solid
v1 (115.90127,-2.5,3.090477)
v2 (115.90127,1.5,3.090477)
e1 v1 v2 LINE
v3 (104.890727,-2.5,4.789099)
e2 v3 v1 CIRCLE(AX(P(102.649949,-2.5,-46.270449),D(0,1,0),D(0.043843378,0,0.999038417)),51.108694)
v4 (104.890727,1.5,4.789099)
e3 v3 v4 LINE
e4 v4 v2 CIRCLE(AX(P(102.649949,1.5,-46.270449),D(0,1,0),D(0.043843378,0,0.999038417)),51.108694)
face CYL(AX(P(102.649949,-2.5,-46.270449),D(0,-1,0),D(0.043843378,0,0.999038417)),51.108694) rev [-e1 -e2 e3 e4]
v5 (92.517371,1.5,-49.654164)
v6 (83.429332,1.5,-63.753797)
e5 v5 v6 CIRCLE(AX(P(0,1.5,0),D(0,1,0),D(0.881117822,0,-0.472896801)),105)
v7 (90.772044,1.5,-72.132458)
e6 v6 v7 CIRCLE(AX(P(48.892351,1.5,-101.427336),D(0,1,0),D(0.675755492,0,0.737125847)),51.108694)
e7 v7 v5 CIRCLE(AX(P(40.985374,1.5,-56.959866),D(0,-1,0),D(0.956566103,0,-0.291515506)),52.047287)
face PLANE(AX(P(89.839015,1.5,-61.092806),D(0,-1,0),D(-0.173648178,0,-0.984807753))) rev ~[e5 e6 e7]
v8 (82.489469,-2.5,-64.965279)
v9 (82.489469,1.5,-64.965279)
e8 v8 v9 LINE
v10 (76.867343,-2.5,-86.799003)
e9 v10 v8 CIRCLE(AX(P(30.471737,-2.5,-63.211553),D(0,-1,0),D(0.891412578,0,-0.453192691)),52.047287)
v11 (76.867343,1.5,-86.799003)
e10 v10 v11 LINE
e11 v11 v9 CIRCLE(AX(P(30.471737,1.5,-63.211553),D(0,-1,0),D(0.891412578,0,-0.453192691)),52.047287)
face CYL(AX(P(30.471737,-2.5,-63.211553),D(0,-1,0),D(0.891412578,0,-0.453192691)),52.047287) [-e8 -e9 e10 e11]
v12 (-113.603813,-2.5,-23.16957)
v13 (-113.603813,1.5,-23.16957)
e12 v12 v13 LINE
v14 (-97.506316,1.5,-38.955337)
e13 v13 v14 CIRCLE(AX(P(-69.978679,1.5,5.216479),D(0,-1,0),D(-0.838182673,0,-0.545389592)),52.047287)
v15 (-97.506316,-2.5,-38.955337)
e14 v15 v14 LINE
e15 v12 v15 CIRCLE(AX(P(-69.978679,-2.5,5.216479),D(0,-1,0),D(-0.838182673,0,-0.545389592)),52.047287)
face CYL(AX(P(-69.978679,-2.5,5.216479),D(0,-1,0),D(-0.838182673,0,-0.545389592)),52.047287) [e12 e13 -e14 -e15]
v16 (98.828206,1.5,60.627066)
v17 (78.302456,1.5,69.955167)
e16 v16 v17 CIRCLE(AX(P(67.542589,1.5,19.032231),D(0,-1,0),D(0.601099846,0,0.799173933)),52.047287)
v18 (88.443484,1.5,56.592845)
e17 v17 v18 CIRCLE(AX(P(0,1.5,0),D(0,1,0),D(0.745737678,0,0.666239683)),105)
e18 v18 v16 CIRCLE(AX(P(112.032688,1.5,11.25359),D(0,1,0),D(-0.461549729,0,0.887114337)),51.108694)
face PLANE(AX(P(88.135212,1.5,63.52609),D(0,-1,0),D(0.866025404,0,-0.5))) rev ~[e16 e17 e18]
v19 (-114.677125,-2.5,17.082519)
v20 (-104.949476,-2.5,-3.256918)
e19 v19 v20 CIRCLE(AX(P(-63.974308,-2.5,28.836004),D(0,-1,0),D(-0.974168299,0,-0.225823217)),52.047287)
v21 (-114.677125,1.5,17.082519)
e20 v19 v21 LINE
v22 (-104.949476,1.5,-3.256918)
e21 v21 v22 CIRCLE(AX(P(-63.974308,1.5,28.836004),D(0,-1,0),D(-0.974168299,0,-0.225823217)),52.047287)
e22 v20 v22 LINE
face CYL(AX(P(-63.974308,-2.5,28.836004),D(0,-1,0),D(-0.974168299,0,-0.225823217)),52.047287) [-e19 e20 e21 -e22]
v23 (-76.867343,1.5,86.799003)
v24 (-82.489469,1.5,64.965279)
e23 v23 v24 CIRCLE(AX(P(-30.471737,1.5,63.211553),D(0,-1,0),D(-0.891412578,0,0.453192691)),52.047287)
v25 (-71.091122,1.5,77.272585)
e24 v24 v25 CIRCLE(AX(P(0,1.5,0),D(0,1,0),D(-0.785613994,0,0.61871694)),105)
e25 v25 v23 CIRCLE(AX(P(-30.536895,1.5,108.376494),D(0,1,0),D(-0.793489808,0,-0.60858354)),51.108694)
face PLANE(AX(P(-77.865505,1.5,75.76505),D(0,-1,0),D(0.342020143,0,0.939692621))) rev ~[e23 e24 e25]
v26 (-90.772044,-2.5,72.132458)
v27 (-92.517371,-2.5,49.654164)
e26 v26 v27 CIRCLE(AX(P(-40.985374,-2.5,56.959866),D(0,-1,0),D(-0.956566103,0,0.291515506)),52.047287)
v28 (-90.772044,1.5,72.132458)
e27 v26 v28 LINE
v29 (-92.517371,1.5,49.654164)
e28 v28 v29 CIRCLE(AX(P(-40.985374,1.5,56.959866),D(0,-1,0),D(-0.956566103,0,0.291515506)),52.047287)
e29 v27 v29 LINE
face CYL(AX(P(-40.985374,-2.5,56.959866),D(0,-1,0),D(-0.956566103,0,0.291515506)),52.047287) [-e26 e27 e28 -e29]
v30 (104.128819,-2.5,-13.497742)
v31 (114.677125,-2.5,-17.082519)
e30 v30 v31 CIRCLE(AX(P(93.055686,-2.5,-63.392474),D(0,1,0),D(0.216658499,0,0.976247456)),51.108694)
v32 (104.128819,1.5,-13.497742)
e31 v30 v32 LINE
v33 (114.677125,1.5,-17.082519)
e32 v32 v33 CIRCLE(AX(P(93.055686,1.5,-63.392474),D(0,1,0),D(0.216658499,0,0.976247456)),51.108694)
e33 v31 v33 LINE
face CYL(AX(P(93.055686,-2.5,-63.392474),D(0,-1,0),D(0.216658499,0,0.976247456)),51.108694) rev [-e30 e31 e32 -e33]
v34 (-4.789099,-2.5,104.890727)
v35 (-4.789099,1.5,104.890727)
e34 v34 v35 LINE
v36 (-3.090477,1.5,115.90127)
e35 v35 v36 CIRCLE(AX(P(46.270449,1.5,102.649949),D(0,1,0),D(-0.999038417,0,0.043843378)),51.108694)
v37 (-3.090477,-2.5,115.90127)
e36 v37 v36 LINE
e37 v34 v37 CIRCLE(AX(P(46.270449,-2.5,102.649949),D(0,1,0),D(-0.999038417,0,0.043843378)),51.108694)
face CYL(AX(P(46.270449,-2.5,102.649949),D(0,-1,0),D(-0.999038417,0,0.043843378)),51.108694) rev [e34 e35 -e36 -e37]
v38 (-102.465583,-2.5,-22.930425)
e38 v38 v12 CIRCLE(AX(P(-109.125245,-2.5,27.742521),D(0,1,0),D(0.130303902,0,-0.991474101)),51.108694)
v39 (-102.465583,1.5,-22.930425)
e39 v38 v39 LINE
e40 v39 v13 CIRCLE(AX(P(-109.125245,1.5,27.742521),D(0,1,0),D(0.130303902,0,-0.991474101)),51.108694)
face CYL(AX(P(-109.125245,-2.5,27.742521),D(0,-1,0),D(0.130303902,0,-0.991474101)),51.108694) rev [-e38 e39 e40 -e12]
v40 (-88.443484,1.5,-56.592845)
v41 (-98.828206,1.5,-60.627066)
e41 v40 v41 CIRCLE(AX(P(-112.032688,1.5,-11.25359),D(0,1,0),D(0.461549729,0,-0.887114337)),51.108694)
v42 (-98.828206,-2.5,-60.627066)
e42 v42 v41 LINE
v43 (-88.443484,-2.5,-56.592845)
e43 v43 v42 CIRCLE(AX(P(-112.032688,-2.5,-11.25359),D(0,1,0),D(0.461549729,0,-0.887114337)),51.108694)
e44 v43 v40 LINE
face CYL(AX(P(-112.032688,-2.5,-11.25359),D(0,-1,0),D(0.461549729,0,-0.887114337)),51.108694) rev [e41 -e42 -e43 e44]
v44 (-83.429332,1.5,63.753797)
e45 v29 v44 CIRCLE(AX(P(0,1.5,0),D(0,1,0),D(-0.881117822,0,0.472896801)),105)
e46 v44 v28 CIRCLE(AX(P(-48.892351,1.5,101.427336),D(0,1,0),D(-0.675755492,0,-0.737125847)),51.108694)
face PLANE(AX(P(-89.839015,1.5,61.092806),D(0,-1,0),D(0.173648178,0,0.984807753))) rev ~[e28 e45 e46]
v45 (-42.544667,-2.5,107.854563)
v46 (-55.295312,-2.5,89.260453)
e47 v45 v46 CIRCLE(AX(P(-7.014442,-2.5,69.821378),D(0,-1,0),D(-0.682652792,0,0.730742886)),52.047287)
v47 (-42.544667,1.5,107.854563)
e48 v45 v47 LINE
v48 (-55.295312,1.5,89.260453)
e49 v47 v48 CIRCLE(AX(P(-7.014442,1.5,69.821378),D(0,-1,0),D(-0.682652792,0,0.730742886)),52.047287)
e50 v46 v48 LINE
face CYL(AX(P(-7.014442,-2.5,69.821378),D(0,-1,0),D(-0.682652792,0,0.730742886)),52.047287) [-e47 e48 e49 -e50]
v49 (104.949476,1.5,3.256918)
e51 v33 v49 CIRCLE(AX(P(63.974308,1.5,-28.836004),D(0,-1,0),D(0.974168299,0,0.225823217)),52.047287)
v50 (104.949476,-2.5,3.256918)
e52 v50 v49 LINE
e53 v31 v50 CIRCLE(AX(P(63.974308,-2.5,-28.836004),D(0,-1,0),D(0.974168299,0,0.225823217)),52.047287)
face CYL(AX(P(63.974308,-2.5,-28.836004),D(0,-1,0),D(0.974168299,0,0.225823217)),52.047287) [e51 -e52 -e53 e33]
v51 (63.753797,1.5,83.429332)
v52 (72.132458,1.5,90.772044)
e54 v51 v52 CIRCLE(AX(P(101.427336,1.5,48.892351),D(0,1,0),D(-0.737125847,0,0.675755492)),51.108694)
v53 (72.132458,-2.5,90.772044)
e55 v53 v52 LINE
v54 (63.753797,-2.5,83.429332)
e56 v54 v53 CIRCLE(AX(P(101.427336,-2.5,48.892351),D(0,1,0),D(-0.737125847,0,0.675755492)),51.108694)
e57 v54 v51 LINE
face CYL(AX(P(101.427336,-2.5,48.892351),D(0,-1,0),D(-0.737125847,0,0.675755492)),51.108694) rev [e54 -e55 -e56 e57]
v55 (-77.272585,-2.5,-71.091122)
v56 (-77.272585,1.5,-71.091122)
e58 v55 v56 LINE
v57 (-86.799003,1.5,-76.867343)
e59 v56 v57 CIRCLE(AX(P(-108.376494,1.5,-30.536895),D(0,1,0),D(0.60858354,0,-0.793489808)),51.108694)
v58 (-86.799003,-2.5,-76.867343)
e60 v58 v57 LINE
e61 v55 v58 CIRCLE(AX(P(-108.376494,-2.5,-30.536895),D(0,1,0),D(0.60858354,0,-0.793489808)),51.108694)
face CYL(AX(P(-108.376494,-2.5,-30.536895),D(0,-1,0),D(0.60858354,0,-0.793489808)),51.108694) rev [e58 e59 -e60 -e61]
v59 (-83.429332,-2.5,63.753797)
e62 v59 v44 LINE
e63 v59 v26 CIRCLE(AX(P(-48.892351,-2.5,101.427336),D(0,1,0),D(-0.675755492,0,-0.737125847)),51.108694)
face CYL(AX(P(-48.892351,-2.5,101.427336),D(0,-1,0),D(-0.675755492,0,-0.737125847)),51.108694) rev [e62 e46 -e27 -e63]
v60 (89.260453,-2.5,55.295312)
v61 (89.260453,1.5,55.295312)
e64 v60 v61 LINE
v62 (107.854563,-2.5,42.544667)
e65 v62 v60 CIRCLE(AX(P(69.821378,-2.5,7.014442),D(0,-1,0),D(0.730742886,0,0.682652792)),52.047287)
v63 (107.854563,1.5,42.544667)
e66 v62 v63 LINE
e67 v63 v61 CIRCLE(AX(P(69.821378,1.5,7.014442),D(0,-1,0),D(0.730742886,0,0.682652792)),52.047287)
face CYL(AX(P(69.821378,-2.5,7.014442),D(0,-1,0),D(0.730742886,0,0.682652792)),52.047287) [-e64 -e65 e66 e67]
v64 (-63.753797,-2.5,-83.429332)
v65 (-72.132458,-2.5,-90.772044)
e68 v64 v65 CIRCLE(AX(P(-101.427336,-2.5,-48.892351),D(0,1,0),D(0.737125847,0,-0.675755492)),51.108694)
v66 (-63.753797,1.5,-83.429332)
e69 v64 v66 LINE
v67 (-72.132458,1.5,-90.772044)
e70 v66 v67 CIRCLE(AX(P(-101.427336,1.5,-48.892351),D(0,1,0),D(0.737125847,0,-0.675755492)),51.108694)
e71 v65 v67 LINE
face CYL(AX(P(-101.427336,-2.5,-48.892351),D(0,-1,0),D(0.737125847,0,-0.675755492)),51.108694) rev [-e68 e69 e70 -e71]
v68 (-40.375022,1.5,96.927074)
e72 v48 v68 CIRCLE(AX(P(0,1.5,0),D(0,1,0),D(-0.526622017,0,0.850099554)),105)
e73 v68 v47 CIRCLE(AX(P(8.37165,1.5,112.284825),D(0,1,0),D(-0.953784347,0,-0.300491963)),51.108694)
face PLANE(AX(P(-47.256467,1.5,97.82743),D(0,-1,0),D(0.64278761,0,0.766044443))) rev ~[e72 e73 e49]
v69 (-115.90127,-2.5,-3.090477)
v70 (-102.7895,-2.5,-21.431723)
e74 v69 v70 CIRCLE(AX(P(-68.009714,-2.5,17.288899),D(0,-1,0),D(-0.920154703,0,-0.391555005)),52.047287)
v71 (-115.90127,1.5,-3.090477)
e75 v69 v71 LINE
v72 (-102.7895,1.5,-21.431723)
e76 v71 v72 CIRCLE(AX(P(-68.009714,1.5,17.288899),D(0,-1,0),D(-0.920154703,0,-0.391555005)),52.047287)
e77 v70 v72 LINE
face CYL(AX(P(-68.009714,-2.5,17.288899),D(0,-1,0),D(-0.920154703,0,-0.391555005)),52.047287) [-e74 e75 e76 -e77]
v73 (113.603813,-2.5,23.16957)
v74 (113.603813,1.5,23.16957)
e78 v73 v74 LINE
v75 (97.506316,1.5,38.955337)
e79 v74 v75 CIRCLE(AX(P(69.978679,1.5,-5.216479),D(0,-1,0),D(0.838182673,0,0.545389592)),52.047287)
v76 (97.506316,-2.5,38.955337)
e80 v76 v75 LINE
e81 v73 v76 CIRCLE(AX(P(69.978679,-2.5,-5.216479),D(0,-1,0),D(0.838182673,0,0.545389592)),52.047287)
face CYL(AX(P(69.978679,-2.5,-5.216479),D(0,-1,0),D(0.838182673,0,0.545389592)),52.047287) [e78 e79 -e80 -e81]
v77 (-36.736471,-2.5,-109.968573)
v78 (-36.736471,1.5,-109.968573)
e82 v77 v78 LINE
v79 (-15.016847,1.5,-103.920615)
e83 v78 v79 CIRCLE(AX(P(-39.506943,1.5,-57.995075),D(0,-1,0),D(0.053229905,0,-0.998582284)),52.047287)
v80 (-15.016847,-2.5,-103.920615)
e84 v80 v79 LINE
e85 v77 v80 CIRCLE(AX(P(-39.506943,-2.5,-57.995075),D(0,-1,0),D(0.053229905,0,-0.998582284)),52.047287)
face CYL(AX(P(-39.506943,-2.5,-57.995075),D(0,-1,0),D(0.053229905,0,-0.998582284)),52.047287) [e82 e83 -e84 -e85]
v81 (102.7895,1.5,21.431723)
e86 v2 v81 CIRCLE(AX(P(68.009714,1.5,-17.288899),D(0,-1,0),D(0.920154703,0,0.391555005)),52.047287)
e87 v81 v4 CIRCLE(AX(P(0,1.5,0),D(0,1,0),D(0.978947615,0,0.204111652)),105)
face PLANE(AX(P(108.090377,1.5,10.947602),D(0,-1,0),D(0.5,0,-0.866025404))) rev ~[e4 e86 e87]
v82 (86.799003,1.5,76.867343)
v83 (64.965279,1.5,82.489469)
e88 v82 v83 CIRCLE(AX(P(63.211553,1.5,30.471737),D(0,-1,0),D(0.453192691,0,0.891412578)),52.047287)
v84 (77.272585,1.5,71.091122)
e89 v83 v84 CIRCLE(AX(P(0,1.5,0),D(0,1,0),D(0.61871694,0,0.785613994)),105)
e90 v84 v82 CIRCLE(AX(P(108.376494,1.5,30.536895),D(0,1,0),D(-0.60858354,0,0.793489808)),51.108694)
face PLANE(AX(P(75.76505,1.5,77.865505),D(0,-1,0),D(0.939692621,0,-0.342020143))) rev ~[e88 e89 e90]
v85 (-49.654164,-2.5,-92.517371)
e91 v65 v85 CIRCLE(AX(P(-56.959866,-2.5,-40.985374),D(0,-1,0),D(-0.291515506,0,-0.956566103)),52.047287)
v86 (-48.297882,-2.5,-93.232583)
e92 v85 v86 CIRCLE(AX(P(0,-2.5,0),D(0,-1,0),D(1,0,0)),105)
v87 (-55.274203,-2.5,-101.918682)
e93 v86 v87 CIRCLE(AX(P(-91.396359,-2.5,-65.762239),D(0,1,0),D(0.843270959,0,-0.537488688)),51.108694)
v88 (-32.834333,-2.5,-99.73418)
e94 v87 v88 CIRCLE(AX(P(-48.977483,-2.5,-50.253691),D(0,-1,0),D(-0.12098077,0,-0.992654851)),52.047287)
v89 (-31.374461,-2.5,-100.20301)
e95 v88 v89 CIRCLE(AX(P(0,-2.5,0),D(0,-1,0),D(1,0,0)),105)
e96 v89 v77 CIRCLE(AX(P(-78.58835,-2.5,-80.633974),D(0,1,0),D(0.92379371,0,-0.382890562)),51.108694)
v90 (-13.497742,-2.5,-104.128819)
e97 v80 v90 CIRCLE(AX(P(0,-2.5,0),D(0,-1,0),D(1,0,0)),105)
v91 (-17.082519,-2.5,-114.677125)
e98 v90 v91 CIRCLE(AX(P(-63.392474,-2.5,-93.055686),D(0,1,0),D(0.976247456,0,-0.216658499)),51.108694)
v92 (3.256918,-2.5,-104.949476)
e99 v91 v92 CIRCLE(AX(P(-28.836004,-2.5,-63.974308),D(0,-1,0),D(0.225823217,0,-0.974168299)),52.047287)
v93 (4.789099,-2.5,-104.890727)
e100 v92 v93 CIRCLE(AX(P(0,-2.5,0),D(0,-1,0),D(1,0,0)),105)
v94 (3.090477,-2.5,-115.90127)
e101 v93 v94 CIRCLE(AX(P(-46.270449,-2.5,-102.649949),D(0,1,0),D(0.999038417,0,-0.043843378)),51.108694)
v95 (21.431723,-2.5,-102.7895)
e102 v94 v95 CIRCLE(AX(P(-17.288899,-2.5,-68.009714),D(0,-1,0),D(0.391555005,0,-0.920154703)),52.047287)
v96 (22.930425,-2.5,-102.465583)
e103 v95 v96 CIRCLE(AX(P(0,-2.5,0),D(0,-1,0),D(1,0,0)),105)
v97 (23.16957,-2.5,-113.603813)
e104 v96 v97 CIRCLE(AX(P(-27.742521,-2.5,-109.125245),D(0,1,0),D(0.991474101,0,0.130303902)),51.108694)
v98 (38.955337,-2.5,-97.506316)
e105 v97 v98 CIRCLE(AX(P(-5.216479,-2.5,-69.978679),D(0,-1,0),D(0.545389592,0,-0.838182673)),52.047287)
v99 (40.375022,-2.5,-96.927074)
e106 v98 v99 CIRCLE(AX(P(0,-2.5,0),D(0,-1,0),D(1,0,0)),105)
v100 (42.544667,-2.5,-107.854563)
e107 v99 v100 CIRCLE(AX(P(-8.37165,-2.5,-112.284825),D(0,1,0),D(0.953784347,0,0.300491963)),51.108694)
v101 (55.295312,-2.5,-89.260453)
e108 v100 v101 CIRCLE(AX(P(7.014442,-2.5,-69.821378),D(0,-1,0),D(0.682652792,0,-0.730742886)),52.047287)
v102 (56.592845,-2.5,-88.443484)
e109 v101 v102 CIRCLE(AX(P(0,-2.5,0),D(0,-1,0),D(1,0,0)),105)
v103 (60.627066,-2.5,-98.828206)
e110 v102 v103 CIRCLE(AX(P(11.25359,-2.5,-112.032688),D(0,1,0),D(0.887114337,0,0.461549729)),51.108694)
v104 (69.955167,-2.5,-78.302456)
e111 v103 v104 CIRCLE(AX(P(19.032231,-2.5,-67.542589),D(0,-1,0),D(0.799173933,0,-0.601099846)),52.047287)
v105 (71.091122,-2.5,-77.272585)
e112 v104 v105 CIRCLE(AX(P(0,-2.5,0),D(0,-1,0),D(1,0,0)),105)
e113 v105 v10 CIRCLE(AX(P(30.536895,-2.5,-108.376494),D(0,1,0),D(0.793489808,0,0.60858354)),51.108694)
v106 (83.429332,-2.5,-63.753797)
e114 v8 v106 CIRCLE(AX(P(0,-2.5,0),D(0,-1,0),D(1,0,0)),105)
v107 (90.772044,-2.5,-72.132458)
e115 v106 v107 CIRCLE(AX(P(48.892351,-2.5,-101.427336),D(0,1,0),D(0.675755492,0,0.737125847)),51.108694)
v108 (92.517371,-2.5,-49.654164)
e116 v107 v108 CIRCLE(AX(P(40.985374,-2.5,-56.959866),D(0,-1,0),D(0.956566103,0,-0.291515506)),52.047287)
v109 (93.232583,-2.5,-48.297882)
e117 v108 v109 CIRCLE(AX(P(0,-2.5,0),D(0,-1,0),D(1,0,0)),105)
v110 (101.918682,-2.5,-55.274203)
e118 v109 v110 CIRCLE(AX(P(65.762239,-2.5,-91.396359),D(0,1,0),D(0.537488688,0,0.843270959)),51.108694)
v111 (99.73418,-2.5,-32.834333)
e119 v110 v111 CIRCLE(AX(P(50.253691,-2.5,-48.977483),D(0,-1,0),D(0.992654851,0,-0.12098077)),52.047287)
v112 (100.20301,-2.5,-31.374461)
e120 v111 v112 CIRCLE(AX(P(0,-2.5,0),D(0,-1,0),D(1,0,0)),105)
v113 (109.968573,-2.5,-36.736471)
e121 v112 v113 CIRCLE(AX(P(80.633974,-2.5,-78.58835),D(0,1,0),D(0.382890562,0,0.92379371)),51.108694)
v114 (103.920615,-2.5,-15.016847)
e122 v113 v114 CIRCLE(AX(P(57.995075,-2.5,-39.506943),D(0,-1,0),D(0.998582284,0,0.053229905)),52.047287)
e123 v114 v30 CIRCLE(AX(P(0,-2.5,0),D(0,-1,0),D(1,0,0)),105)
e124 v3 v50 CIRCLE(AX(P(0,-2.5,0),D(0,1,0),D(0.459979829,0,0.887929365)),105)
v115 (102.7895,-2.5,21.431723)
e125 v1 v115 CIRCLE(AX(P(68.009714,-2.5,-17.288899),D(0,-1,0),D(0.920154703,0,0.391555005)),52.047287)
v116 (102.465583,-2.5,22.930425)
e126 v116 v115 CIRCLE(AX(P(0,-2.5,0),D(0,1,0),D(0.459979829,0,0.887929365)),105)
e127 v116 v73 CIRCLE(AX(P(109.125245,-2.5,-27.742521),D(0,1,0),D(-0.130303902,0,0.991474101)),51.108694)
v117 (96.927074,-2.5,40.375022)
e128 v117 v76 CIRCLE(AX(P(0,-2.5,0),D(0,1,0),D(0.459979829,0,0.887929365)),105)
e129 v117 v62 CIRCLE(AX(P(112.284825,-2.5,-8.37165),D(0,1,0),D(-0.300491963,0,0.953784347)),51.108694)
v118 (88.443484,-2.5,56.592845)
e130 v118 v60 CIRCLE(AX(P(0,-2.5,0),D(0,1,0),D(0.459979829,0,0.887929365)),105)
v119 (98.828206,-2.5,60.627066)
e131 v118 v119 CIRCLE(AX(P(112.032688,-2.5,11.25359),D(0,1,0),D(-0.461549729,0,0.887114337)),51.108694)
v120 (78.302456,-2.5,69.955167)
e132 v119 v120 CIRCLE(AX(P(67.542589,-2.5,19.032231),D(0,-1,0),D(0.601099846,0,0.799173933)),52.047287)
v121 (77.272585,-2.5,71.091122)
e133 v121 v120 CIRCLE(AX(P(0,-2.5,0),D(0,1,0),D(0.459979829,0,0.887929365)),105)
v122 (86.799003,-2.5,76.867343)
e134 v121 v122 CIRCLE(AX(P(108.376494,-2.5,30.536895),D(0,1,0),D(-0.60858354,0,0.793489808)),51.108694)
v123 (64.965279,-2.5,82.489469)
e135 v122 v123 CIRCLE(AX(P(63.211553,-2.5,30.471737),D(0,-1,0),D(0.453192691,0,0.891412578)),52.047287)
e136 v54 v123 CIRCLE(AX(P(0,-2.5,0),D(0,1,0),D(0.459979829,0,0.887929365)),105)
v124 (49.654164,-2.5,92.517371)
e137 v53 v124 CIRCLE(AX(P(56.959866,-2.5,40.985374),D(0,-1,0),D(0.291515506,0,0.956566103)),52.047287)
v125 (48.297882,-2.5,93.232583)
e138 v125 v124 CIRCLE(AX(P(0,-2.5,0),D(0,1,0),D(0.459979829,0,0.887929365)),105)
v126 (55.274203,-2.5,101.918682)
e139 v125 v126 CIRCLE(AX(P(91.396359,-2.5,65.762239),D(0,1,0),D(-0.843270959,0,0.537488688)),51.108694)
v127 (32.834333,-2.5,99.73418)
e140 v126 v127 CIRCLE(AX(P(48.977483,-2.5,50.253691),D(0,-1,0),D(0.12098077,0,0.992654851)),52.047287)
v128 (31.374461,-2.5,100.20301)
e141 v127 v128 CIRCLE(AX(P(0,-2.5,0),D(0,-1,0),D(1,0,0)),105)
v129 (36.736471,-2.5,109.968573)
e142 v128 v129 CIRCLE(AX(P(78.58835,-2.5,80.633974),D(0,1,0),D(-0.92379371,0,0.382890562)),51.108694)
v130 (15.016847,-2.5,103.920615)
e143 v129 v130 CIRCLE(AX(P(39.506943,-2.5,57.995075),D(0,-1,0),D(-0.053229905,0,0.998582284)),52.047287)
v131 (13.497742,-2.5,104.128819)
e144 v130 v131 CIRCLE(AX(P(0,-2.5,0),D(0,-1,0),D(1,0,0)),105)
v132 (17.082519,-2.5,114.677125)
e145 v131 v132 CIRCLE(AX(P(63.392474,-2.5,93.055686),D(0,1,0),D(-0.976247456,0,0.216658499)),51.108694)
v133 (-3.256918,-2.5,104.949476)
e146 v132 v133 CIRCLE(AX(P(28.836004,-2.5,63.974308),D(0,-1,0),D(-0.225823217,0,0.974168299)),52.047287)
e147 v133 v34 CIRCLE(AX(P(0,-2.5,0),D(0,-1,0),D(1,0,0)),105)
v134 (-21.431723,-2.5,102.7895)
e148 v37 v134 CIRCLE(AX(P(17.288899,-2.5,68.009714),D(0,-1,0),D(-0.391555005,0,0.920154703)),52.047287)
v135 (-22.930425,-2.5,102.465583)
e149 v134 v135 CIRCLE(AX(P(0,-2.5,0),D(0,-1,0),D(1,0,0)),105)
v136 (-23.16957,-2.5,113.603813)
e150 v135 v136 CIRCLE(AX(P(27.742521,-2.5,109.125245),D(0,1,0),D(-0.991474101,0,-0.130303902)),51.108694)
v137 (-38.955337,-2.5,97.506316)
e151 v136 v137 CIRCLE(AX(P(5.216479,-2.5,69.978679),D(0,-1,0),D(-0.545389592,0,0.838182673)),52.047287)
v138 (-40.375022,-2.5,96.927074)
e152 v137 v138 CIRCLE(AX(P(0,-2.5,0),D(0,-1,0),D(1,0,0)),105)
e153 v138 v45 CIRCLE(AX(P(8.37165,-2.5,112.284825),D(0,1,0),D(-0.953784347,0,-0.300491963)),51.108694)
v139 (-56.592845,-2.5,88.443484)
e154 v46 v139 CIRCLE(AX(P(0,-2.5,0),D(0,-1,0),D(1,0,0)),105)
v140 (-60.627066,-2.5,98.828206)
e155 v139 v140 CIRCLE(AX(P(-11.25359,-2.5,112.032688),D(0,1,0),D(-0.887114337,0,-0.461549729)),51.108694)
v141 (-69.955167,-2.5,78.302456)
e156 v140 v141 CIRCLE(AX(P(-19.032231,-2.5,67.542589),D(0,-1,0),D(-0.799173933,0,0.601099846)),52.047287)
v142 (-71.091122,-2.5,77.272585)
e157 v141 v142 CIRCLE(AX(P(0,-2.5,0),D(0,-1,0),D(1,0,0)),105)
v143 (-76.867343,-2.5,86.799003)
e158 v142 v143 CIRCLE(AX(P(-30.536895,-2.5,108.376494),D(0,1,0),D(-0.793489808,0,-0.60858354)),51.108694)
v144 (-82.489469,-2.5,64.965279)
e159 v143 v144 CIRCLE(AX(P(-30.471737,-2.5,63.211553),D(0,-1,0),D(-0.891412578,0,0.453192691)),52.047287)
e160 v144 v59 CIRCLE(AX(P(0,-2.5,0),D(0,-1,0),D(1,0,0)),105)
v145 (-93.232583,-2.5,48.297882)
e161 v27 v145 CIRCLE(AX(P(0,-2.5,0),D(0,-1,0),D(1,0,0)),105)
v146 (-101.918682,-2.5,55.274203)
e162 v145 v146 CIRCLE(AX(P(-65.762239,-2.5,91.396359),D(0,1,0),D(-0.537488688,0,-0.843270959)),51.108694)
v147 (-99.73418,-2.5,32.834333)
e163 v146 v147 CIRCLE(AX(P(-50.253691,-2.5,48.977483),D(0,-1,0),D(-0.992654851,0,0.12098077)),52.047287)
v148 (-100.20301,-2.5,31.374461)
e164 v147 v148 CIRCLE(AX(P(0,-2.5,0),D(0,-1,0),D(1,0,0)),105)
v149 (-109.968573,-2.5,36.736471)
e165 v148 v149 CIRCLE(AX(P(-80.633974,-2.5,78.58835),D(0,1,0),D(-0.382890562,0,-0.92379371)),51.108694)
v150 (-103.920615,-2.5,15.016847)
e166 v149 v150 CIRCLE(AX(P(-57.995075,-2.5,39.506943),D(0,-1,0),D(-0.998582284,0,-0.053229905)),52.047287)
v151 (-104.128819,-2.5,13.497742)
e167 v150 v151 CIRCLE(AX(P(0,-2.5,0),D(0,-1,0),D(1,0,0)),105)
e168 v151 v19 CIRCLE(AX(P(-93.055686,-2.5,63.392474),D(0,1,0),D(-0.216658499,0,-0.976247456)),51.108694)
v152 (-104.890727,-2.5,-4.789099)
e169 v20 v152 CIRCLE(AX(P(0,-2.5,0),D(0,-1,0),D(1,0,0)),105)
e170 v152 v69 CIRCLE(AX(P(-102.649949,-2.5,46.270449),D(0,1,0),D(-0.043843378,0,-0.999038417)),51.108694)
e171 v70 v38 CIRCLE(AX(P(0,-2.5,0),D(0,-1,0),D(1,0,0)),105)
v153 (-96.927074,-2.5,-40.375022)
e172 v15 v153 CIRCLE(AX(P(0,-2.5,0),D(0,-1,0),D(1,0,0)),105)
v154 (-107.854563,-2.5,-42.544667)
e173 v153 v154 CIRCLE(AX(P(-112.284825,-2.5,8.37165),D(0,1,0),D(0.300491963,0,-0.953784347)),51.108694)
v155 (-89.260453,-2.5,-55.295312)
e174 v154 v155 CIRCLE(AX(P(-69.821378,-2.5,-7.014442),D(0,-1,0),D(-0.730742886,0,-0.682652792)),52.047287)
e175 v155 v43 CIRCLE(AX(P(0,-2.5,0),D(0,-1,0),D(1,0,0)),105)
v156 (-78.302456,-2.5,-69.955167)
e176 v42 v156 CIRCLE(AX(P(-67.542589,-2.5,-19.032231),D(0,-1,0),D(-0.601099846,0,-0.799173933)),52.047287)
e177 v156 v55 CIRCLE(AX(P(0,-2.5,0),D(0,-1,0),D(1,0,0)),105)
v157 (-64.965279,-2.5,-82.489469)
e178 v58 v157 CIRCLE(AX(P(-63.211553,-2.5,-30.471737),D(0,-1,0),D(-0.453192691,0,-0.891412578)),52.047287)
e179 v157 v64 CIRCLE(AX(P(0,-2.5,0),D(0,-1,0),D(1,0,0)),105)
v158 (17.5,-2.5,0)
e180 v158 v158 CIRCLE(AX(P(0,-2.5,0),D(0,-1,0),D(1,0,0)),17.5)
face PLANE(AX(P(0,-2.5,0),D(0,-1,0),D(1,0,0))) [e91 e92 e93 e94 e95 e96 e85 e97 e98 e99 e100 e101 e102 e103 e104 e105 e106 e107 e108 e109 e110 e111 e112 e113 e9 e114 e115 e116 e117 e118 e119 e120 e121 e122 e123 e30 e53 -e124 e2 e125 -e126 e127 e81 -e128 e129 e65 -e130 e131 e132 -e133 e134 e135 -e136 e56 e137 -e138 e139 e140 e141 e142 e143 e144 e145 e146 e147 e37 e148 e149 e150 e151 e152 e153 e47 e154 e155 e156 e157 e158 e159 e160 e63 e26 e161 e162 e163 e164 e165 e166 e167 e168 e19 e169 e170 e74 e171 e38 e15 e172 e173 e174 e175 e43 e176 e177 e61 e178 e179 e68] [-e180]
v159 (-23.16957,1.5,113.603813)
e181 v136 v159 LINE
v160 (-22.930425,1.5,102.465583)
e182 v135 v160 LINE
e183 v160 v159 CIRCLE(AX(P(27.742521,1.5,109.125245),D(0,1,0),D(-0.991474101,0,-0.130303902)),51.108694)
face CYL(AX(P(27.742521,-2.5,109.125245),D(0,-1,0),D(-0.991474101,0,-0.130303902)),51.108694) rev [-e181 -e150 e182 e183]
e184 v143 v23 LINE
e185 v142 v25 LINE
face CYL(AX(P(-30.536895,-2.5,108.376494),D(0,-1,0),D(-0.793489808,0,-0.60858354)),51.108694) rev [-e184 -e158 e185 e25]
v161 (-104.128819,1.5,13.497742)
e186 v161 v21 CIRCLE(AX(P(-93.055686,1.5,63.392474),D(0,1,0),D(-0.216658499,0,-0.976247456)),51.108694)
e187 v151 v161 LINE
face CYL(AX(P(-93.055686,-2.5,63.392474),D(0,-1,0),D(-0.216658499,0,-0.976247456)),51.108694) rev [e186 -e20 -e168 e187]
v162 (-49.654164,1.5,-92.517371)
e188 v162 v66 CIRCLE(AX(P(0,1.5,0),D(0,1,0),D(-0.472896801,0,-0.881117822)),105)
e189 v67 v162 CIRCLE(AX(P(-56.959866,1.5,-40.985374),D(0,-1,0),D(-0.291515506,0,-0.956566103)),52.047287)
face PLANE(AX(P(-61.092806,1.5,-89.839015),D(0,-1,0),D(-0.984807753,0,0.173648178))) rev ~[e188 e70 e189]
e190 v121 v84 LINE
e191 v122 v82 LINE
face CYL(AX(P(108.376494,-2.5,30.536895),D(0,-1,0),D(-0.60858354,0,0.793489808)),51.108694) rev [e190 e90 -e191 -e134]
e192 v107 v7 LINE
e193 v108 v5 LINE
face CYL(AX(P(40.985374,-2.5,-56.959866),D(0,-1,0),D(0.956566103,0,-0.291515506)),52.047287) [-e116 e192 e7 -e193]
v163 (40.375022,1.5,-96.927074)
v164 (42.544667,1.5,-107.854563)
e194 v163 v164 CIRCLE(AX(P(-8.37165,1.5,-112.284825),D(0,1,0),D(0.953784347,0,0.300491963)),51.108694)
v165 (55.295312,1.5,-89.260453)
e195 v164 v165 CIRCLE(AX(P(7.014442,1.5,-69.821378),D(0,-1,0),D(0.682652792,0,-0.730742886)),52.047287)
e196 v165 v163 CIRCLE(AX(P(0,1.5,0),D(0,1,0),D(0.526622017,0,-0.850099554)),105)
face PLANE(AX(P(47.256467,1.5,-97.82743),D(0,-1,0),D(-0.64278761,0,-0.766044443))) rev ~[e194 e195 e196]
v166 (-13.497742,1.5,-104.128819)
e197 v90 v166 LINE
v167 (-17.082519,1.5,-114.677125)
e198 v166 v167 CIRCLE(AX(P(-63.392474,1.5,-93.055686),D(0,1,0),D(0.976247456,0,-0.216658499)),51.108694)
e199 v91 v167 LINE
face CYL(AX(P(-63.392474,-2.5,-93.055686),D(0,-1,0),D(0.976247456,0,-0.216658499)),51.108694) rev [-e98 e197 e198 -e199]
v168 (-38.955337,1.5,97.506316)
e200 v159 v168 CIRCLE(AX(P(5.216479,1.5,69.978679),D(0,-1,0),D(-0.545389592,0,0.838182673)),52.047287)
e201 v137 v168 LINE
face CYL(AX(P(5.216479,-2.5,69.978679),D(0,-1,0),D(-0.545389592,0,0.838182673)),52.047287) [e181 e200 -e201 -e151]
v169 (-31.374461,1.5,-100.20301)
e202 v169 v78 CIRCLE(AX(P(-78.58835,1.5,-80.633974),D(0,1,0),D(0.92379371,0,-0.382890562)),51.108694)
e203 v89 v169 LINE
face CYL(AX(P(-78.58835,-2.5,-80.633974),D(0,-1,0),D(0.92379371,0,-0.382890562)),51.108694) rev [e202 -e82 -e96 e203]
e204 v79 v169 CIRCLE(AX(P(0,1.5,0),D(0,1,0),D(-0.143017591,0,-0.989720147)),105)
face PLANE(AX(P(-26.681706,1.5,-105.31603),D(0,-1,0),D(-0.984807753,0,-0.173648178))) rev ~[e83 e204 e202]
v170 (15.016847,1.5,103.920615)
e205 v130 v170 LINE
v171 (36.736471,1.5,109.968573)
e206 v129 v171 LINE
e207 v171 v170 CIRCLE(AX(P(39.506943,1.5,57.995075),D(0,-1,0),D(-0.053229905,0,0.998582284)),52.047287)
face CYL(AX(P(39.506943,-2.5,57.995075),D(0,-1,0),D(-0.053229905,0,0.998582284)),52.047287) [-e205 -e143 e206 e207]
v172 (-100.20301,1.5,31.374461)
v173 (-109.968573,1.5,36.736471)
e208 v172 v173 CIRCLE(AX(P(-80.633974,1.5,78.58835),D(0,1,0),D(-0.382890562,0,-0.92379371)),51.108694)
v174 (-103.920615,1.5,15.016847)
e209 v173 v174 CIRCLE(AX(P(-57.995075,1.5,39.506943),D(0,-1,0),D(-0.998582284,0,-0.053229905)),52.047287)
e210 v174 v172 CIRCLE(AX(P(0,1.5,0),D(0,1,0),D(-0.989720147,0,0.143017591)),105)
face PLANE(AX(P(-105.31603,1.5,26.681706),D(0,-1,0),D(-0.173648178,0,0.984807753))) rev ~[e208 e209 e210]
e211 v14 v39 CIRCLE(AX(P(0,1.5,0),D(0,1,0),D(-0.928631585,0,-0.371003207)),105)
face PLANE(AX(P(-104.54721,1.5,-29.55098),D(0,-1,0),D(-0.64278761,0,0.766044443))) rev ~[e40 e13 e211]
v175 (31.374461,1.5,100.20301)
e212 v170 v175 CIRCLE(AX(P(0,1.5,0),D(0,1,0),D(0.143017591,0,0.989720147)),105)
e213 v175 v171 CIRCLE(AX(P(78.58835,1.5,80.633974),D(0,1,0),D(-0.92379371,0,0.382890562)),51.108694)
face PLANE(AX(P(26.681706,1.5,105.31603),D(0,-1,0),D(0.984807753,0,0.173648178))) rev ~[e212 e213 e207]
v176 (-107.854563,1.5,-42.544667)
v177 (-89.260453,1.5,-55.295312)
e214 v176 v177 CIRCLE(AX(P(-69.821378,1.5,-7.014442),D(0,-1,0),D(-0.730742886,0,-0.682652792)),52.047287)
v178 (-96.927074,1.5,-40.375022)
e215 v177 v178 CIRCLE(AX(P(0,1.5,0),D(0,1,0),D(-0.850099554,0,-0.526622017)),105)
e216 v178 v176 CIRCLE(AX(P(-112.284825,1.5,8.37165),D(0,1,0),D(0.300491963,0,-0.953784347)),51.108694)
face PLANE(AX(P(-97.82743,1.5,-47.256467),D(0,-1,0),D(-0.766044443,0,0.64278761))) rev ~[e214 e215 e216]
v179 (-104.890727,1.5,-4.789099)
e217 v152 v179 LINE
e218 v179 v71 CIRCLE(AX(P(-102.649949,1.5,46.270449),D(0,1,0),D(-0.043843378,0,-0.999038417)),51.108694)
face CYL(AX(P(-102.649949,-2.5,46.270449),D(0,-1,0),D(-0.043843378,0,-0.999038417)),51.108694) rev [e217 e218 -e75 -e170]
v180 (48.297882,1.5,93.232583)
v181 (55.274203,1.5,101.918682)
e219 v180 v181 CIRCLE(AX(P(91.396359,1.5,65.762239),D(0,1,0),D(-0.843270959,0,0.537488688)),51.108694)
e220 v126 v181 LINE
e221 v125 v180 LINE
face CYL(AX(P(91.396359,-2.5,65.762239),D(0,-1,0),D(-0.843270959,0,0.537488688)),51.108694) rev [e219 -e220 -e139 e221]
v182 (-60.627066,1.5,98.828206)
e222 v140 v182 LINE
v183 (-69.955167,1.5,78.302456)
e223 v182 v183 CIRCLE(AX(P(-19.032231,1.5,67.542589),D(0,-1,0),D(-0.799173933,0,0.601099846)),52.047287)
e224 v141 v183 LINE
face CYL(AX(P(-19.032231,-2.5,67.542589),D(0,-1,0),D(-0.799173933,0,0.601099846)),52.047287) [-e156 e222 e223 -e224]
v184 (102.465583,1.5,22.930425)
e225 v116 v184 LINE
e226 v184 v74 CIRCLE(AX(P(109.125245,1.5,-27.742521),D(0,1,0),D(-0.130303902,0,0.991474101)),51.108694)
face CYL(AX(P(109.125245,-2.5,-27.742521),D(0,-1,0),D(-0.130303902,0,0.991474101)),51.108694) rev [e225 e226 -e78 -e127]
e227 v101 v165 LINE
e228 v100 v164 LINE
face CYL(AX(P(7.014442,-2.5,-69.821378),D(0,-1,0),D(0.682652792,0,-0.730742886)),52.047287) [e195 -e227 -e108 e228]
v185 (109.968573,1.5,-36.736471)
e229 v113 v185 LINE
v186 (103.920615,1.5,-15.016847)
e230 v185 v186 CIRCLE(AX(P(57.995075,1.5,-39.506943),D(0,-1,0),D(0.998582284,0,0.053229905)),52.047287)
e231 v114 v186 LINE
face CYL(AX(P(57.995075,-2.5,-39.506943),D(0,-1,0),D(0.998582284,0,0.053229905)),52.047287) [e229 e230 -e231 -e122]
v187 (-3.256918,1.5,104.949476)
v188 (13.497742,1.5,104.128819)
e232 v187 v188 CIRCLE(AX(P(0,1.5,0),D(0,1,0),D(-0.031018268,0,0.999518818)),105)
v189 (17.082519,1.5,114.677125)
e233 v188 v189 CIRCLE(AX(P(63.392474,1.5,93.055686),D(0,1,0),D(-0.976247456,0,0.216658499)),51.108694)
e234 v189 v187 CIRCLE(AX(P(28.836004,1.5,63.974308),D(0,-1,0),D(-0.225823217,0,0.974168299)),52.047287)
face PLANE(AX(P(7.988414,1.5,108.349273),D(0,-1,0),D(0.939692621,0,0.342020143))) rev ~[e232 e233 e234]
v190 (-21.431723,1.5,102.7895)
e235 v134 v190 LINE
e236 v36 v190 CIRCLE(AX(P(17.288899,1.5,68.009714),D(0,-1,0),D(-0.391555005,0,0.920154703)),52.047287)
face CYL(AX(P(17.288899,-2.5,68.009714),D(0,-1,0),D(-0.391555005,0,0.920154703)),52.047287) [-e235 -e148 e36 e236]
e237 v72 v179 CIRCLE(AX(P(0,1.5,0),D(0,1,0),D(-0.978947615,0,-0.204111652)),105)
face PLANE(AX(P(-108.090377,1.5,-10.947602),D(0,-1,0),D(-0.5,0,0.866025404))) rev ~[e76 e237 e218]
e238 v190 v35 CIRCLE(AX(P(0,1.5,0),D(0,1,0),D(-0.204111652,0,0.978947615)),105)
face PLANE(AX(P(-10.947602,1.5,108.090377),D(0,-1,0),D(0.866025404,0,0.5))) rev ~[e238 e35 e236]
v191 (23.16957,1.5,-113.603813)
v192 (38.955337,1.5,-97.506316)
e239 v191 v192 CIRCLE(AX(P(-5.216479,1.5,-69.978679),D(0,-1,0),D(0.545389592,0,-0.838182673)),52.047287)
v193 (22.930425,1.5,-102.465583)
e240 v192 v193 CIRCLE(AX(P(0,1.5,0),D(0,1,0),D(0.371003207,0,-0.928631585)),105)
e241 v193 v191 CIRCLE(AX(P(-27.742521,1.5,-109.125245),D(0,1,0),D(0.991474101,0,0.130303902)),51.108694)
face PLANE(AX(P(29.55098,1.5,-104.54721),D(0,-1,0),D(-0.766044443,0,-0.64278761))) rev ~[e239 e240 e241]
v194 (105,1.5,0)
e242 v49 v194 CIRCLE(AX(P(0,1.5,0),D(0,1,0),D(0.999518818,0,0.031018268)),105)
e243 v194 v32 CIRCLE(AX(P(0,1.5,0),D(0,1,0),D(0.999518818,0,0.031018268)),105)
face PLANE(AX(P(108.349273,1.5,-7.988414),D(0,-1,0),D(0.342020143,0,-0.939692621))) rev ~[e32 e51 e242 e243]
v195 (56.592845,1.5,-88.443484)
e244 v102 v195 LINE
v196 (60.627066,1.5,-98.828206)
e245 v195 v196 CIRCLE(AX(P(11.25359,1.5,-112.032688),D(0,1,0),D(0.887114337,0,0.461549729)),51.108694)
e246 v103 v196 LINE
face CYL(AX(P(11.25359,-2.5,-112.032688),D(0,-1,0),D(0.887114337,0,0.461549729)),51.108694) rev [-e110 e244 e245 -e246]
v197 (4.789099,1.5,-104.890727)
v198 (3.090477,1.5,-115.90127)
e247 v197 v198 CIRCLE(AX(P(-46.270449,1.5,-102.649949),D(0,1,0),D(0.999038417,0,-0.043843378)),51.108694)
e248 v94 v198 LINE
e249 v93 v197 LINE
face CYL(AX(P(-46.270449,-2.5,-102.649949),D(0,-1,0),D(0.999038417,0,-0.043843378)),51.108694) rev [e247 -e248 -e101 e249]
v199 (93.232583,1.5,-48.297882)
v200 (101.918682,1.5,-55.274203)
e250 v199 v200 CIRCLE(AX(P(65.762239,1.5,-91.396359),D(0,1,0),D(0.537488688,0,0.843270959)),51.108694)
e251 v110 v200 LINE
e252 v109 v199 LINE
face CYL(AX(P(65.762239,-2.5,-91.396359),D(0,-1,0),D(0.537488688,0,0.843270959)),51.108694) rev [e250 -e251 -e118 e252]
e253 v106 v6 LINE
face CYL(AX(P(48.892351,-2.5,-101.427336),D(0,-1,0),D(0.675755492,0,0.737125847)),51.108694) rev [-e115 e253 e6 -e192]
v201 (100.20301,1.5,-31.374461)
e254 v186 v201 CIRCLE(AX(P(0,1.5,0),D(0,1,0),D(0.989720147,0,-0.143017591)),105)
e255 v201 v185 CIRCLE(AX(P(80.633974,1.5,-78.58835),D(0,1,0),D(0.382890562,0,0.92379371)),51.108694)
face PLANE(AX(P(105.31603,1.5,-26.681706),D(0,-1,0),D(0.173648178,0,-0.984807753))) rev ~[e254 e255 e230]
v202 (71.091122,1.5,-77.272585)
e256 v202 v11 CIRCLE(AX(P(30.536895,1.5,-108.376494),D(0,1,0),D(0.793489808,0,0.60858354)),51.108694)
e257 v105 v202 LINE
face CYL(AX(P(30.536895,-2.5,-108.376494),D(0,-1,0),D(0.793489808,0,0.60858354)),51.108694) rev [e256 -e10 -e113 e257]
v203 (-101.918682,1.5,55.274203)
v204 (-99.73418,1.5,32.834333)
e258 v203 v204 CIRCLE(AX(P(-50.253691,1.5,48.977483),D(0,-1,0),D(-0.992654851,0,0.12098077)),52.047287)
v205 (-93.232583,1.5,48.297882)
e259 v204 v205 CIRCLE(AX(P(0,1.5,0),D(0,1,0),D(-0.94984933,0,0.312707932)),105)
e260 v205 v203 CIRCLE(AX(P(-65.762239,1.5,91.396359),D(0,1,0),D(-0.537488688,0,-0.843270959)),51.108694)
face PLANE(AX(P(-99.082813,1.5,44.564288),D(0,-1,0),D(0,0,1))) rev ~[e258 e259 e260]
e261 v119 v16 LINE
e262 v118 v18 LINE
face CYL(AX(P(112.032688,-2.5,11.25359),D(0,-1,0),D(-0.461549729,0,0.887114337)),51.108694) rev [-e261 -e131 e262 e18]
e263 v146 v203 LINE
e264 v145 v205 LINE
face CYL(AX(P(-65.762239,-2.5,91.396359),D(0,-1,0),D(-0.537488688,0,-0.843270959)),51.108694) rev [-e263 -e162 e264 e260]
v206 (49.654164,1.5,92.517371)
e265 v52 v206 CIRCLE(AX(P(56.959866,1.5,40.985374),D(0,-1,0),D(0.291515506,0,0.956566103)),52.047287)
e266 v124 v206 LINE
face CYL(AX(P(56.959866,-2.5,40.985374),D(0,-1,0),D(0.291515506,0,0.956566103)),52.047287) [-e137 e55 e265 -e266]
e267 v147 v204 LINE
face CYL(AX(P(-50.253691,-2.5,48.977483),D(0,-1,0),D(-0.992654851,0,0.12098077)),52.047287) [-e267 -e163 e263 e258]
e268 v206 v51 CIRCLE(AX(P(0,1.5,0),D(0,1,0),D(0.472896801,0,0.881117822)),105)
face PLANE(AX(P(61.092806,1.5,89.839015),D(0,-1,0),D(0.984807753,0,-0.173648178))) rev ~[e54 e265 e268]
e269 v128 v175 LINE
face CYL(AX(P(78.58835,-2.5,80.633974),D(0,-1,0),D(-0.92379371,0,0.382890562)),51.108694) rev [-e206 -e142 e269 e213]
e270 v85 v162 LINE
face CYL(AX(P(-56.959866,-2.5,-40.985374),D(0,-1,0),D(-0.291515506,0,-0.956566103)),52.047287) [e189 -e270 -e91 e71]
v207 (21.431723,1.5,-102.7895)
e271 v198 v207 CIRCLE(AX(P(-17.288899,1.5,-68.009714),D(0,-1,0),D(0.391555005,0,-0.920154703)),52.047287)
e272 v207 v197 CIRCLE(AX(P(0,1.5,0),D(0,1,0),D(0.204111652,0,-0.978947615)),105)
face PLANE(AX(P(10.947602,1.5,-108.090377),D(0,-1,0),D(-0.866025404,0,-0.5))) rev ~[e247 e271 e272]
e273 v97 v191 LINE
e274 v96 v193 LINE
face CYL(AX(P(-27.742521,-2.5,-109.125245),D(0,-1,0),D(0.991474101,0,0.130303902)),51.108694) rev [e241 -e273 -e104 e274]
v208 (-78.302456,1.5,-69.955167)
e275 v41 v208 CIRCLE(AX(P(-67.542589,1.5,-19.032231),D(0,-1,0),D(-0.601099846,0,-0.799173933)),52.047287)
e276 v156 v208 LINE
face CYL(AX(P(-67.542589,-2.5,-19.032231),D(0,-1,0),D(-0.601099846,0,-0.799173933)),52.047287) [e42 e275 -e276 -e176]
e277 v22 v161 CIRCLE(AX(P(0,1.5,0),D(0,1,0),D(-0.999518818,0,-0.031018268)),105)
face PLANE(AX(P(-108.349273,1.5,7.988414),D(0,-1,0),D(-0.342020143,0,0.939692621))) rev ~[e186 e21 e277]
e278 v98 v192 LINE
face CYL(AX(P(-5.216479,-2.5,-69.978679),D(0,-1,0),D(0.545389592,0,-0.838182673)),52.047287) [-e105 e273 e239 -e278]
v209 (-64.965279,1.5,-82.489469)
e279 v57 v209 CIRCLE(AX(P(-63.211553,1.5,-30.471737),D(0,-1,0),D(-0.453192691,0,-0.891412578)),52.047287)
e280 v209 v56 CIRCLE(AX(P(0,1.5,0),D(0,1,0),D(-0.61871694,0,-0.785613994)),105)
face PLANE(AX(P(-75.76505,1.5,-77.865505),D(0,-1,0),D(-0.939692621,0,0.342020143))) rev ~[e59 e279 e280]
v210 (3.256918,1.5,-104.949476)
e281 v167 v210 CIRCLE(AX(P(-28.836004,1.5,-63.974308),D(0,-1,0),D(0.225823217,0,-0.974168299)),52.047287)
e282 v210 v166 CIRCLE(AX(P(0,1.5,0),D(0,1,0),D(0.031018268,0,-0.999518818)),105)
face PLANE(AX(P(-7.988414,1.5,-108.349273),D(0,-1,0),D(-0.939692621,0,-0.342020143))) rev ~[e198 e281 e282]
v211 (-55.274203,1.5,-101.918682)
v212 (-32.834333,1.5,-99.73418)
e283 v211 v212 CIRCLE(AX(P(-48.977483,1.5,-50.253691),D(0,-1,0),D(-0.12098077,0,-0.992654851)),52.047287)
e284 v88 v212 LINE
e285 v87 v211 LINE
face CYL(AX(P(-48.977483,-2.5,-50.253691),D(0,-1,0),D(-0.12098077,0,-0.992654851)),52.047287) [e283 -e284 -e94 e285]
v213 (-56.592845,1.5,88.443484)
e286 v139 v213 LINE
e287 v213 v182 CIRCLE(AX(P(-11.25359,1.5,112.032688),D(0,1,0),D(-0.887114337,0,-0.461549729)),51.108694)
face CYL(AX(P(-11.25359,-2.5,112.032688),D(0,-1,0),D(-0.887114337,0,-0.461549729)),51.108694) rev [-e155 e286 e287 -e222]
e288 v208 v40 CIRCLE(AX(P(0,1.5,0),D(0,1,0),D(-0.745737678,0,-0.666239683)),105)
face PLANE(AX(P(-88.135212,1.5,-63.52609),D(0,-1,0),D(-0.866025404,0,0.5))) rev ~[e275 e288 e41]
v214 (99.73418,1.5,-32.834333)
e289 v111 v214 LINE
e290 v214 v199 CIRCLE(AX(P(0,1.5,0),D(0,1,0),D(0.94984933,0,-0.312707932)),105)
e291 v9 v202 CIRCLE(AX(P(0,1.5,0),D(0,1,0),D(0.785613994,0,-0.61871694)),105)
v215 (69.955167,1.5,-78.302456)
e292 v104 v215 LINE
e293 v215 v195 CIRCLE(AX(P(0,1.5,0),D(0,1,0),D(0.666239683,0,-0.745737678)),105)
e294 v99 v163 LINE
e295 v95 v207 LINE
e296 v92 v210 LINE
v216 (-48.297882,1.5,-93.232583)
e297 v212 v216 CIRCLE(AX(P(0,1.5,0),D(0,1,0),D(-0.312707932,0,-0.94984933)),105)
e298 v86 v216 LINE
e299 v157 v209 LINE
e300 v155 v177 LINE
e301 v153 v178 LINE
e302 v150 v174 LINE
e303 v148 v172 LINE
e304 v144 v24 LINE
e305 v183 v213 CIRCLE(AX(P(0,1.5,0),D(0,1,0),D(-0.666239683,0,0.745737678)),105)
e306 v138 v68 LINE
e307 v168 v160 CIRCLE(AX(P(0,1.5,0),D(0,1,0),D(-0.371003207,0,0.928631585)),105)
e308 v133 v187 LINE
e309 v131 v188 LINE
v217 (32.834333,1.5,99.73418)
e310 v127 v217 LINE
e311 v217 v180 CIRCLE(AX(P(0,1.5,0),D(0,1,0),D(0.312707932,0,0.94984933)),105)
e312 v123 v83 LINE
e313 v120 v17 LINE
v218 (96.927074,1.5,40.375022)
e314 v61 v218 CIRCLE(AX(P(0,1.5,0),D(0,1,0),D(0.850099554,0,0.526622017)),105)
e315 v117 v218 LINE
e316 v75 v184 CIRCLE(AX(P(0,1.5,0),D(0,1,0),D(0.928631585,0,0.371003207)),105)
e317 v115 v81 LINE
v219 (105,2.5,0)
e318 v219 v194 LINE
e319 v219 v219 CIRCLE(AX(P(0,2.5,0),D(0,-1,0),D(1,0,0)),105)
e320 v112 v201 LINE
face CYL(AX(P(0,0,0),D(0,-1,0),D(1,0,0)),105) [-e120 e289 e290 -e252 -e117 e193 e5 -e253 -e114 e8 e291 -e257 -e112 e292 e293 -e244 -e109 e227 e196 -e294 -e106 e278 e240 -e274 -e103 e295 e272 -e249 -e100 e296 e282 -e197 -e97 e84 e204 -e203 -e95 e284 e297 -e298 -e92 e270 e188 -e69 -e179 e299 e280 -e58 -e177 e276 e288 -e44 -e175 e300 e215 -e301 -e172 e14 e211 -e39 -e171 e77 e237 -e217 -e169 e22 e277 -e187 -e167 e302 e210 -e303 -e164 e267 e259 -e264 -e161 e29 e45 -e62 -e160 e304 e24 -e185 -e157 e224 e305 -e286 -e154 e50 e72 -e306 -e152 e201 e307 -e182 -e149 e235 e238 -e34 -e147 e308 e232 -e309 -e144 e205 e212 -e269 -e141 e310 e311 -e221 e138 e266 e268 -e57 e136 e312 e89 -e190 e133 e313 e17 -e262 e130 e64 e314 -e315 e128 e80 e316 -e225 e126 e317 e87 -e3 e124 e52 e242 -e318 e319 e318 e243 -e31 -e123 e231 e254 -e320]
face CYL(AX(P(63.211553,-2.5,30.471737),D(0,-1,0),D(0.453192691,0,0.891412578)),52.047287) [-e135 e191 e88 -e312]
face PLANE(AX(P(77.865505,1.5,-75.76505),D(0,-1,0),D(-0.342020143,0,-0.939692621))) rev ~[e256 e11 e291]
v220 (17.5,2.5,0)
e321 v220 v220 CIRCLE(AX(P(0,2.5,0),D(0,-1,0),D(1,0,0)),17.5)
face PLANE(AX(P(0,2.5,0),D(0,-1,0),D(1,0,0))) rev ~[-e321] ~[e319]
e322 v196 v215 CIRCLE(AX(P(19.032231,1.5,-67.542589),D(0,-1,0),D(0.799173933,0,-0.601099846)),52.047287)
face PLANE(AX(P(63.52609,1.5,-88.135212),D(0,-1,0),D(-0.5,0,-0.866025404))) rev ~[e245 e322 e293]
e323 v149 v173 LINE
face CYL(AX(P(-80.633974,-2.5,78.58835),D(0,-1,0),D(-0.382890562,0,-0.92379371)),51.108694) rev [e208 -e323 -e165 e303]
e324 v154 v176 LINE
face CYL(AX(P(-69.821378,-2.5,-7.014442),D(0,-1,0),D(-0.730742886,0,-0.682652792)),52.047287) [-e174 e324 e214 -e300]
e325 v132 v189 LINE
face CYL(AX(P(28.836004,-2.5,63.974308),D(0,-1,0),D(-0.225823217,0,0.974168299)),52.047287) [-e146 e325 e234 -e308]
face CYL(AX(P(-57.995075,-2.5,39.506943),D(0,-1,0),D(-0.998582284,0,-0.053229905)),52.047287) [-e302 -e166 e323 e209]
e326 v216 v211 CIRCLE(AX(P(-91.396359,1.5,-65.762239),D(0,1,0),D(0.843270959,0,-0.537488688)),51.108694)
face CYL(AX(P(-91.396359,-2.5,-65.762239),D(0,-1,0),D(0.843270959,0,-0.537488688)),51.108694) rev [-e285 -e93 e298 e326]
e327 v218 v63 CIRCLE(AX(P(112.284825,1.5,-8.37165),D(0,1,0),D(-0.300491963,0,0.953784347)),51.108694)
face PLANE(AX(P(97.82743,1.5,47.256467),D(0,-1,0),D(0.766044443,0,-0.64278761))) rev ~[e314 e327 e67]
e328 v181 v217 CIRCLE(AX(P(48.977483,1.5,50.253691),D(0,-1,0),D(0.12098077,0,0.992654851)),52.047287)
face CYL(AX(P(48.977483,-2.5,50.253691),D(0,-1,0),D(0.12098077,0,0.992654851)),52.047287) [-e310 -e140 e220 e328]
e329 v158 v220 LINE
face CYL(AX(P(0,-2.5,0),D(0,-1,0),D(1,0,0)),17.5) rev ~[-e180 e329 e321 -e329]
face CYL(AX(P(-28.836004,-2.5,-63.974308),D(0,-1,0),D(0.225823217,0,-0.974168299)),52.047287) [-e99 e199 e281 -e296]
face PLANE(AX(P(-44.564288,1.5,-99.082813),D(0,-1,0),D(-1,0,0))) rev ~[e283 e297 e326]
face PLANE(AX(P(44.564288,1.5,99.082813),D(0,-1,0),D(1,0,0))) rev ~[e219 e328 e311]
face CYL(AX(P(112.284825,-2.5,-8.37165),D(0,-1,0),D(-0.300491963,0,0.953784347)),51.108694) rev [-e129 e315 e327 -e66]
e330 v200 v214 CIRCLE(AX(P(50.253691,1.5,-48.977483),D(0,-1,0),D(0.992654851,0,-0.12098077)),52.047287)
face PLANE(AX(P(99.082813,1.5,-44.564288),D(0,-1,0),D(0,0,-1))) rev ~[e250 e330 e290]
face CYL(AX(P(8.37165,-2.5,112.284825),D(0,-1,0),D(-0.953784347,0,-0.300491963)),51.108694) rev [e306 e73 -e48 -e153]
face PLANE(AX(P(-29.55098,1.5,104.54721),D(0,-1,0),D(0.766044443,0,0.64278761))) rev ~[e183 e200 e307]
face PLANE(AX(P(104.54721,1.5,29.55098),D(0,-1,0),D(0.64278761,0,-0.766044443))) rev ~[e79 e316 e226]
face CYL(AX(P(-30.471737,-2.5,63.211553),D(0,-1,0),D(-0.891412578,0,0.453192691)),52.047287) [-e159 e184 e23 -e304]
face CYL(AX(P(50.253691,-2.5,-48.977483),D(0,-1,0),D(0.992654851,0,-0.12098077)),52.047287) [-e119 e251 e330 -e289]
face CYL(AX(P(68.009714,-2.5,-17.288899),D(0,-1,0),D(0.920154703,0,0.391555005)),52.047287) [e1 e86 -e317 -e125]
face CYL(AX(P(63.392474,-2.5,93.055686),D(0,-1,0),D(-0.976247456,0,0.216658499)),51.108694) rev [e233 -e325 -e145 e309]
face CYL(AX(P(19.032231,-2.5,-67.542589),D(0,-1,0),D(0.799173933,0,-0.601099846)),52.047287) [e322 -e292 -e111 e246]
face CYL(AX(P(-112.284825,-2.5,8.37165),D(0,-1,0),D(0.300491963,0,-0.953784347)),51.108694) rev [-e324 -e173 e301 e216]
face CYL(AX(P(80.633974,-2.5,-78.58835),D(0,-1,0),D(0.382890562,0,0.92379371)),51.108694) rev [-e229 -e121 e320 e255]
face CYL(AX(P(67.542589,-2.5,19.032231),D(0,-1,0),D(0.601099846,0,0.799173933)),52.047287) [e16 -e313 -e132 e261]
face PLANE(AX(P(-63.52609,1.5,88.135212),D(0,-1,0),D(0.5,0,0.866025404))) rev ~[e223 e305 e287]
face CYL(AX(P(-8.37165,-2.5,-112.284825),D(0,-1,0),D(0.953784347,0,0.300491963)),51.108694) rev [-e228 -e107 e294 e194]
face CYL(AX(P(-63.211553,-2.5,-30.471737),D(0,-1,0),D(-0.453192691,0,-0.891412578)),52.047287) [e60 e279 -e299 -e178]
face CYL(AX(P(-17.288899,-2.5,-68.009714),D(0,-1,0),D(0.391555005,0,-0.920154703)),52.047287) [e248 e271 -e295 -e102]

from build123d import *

# Parameters (mm, degrees)
F0_R     = 105
F1_DEPTH = 2.5
F3_DEPTH = 4
F4_COUNT = 36
F5_R     = 17.5
F6_DEPTH = 5.001


with BuildPart() as f1:
    # F0 (on Front) → F1 (new body, symmetric)
    with BuildSketch(Plane.XZ):
        Circle(F0_R)
    extrude(amount=F1_DEPTH, both=True)

    # F2 (on face) → F3 (join)
    with BuildSketch(Plane.XZ.offset(2.5)):
        with BuildLine():
            ThreePointArc((55.2742034197, 101.918682456), (43.9345614476, 102.0560942455), (32.8343328669, 99.7341796236))
            ThreePointArc((32.8343328669, 99.7341796236), (40.6961516971, 96.7926817329), (48.2978820486, 93.2325833044))
            ThreePointArc((48.2978820486, 93.2325833044), (51.548658511, 97.7662902282), (55.2742034197, 101.918682456))
        make_face()
    extrude(amount=-F3_DEPTH)

    # F4: F1 ×36 about axis
    f4_axis = Axis((0, 2.5, 0), (0, -1, 0))


with BuildPart() as f1_1:
    add(f1.part)
    for i in range(1, F4_COUNT):
        add(f1.part.rotate(f4_axis, i * 360 / F4_COUNT))

    # F5 (on face) → F6 (cut, through all)
    with BuildSketch(Plane.XZ.offset(2.5)):
        Circle(F5_R)
    extrude(amount=-F6_DEPTH, mode=Mode.SUBTRACT)


solid = f1_1.part
